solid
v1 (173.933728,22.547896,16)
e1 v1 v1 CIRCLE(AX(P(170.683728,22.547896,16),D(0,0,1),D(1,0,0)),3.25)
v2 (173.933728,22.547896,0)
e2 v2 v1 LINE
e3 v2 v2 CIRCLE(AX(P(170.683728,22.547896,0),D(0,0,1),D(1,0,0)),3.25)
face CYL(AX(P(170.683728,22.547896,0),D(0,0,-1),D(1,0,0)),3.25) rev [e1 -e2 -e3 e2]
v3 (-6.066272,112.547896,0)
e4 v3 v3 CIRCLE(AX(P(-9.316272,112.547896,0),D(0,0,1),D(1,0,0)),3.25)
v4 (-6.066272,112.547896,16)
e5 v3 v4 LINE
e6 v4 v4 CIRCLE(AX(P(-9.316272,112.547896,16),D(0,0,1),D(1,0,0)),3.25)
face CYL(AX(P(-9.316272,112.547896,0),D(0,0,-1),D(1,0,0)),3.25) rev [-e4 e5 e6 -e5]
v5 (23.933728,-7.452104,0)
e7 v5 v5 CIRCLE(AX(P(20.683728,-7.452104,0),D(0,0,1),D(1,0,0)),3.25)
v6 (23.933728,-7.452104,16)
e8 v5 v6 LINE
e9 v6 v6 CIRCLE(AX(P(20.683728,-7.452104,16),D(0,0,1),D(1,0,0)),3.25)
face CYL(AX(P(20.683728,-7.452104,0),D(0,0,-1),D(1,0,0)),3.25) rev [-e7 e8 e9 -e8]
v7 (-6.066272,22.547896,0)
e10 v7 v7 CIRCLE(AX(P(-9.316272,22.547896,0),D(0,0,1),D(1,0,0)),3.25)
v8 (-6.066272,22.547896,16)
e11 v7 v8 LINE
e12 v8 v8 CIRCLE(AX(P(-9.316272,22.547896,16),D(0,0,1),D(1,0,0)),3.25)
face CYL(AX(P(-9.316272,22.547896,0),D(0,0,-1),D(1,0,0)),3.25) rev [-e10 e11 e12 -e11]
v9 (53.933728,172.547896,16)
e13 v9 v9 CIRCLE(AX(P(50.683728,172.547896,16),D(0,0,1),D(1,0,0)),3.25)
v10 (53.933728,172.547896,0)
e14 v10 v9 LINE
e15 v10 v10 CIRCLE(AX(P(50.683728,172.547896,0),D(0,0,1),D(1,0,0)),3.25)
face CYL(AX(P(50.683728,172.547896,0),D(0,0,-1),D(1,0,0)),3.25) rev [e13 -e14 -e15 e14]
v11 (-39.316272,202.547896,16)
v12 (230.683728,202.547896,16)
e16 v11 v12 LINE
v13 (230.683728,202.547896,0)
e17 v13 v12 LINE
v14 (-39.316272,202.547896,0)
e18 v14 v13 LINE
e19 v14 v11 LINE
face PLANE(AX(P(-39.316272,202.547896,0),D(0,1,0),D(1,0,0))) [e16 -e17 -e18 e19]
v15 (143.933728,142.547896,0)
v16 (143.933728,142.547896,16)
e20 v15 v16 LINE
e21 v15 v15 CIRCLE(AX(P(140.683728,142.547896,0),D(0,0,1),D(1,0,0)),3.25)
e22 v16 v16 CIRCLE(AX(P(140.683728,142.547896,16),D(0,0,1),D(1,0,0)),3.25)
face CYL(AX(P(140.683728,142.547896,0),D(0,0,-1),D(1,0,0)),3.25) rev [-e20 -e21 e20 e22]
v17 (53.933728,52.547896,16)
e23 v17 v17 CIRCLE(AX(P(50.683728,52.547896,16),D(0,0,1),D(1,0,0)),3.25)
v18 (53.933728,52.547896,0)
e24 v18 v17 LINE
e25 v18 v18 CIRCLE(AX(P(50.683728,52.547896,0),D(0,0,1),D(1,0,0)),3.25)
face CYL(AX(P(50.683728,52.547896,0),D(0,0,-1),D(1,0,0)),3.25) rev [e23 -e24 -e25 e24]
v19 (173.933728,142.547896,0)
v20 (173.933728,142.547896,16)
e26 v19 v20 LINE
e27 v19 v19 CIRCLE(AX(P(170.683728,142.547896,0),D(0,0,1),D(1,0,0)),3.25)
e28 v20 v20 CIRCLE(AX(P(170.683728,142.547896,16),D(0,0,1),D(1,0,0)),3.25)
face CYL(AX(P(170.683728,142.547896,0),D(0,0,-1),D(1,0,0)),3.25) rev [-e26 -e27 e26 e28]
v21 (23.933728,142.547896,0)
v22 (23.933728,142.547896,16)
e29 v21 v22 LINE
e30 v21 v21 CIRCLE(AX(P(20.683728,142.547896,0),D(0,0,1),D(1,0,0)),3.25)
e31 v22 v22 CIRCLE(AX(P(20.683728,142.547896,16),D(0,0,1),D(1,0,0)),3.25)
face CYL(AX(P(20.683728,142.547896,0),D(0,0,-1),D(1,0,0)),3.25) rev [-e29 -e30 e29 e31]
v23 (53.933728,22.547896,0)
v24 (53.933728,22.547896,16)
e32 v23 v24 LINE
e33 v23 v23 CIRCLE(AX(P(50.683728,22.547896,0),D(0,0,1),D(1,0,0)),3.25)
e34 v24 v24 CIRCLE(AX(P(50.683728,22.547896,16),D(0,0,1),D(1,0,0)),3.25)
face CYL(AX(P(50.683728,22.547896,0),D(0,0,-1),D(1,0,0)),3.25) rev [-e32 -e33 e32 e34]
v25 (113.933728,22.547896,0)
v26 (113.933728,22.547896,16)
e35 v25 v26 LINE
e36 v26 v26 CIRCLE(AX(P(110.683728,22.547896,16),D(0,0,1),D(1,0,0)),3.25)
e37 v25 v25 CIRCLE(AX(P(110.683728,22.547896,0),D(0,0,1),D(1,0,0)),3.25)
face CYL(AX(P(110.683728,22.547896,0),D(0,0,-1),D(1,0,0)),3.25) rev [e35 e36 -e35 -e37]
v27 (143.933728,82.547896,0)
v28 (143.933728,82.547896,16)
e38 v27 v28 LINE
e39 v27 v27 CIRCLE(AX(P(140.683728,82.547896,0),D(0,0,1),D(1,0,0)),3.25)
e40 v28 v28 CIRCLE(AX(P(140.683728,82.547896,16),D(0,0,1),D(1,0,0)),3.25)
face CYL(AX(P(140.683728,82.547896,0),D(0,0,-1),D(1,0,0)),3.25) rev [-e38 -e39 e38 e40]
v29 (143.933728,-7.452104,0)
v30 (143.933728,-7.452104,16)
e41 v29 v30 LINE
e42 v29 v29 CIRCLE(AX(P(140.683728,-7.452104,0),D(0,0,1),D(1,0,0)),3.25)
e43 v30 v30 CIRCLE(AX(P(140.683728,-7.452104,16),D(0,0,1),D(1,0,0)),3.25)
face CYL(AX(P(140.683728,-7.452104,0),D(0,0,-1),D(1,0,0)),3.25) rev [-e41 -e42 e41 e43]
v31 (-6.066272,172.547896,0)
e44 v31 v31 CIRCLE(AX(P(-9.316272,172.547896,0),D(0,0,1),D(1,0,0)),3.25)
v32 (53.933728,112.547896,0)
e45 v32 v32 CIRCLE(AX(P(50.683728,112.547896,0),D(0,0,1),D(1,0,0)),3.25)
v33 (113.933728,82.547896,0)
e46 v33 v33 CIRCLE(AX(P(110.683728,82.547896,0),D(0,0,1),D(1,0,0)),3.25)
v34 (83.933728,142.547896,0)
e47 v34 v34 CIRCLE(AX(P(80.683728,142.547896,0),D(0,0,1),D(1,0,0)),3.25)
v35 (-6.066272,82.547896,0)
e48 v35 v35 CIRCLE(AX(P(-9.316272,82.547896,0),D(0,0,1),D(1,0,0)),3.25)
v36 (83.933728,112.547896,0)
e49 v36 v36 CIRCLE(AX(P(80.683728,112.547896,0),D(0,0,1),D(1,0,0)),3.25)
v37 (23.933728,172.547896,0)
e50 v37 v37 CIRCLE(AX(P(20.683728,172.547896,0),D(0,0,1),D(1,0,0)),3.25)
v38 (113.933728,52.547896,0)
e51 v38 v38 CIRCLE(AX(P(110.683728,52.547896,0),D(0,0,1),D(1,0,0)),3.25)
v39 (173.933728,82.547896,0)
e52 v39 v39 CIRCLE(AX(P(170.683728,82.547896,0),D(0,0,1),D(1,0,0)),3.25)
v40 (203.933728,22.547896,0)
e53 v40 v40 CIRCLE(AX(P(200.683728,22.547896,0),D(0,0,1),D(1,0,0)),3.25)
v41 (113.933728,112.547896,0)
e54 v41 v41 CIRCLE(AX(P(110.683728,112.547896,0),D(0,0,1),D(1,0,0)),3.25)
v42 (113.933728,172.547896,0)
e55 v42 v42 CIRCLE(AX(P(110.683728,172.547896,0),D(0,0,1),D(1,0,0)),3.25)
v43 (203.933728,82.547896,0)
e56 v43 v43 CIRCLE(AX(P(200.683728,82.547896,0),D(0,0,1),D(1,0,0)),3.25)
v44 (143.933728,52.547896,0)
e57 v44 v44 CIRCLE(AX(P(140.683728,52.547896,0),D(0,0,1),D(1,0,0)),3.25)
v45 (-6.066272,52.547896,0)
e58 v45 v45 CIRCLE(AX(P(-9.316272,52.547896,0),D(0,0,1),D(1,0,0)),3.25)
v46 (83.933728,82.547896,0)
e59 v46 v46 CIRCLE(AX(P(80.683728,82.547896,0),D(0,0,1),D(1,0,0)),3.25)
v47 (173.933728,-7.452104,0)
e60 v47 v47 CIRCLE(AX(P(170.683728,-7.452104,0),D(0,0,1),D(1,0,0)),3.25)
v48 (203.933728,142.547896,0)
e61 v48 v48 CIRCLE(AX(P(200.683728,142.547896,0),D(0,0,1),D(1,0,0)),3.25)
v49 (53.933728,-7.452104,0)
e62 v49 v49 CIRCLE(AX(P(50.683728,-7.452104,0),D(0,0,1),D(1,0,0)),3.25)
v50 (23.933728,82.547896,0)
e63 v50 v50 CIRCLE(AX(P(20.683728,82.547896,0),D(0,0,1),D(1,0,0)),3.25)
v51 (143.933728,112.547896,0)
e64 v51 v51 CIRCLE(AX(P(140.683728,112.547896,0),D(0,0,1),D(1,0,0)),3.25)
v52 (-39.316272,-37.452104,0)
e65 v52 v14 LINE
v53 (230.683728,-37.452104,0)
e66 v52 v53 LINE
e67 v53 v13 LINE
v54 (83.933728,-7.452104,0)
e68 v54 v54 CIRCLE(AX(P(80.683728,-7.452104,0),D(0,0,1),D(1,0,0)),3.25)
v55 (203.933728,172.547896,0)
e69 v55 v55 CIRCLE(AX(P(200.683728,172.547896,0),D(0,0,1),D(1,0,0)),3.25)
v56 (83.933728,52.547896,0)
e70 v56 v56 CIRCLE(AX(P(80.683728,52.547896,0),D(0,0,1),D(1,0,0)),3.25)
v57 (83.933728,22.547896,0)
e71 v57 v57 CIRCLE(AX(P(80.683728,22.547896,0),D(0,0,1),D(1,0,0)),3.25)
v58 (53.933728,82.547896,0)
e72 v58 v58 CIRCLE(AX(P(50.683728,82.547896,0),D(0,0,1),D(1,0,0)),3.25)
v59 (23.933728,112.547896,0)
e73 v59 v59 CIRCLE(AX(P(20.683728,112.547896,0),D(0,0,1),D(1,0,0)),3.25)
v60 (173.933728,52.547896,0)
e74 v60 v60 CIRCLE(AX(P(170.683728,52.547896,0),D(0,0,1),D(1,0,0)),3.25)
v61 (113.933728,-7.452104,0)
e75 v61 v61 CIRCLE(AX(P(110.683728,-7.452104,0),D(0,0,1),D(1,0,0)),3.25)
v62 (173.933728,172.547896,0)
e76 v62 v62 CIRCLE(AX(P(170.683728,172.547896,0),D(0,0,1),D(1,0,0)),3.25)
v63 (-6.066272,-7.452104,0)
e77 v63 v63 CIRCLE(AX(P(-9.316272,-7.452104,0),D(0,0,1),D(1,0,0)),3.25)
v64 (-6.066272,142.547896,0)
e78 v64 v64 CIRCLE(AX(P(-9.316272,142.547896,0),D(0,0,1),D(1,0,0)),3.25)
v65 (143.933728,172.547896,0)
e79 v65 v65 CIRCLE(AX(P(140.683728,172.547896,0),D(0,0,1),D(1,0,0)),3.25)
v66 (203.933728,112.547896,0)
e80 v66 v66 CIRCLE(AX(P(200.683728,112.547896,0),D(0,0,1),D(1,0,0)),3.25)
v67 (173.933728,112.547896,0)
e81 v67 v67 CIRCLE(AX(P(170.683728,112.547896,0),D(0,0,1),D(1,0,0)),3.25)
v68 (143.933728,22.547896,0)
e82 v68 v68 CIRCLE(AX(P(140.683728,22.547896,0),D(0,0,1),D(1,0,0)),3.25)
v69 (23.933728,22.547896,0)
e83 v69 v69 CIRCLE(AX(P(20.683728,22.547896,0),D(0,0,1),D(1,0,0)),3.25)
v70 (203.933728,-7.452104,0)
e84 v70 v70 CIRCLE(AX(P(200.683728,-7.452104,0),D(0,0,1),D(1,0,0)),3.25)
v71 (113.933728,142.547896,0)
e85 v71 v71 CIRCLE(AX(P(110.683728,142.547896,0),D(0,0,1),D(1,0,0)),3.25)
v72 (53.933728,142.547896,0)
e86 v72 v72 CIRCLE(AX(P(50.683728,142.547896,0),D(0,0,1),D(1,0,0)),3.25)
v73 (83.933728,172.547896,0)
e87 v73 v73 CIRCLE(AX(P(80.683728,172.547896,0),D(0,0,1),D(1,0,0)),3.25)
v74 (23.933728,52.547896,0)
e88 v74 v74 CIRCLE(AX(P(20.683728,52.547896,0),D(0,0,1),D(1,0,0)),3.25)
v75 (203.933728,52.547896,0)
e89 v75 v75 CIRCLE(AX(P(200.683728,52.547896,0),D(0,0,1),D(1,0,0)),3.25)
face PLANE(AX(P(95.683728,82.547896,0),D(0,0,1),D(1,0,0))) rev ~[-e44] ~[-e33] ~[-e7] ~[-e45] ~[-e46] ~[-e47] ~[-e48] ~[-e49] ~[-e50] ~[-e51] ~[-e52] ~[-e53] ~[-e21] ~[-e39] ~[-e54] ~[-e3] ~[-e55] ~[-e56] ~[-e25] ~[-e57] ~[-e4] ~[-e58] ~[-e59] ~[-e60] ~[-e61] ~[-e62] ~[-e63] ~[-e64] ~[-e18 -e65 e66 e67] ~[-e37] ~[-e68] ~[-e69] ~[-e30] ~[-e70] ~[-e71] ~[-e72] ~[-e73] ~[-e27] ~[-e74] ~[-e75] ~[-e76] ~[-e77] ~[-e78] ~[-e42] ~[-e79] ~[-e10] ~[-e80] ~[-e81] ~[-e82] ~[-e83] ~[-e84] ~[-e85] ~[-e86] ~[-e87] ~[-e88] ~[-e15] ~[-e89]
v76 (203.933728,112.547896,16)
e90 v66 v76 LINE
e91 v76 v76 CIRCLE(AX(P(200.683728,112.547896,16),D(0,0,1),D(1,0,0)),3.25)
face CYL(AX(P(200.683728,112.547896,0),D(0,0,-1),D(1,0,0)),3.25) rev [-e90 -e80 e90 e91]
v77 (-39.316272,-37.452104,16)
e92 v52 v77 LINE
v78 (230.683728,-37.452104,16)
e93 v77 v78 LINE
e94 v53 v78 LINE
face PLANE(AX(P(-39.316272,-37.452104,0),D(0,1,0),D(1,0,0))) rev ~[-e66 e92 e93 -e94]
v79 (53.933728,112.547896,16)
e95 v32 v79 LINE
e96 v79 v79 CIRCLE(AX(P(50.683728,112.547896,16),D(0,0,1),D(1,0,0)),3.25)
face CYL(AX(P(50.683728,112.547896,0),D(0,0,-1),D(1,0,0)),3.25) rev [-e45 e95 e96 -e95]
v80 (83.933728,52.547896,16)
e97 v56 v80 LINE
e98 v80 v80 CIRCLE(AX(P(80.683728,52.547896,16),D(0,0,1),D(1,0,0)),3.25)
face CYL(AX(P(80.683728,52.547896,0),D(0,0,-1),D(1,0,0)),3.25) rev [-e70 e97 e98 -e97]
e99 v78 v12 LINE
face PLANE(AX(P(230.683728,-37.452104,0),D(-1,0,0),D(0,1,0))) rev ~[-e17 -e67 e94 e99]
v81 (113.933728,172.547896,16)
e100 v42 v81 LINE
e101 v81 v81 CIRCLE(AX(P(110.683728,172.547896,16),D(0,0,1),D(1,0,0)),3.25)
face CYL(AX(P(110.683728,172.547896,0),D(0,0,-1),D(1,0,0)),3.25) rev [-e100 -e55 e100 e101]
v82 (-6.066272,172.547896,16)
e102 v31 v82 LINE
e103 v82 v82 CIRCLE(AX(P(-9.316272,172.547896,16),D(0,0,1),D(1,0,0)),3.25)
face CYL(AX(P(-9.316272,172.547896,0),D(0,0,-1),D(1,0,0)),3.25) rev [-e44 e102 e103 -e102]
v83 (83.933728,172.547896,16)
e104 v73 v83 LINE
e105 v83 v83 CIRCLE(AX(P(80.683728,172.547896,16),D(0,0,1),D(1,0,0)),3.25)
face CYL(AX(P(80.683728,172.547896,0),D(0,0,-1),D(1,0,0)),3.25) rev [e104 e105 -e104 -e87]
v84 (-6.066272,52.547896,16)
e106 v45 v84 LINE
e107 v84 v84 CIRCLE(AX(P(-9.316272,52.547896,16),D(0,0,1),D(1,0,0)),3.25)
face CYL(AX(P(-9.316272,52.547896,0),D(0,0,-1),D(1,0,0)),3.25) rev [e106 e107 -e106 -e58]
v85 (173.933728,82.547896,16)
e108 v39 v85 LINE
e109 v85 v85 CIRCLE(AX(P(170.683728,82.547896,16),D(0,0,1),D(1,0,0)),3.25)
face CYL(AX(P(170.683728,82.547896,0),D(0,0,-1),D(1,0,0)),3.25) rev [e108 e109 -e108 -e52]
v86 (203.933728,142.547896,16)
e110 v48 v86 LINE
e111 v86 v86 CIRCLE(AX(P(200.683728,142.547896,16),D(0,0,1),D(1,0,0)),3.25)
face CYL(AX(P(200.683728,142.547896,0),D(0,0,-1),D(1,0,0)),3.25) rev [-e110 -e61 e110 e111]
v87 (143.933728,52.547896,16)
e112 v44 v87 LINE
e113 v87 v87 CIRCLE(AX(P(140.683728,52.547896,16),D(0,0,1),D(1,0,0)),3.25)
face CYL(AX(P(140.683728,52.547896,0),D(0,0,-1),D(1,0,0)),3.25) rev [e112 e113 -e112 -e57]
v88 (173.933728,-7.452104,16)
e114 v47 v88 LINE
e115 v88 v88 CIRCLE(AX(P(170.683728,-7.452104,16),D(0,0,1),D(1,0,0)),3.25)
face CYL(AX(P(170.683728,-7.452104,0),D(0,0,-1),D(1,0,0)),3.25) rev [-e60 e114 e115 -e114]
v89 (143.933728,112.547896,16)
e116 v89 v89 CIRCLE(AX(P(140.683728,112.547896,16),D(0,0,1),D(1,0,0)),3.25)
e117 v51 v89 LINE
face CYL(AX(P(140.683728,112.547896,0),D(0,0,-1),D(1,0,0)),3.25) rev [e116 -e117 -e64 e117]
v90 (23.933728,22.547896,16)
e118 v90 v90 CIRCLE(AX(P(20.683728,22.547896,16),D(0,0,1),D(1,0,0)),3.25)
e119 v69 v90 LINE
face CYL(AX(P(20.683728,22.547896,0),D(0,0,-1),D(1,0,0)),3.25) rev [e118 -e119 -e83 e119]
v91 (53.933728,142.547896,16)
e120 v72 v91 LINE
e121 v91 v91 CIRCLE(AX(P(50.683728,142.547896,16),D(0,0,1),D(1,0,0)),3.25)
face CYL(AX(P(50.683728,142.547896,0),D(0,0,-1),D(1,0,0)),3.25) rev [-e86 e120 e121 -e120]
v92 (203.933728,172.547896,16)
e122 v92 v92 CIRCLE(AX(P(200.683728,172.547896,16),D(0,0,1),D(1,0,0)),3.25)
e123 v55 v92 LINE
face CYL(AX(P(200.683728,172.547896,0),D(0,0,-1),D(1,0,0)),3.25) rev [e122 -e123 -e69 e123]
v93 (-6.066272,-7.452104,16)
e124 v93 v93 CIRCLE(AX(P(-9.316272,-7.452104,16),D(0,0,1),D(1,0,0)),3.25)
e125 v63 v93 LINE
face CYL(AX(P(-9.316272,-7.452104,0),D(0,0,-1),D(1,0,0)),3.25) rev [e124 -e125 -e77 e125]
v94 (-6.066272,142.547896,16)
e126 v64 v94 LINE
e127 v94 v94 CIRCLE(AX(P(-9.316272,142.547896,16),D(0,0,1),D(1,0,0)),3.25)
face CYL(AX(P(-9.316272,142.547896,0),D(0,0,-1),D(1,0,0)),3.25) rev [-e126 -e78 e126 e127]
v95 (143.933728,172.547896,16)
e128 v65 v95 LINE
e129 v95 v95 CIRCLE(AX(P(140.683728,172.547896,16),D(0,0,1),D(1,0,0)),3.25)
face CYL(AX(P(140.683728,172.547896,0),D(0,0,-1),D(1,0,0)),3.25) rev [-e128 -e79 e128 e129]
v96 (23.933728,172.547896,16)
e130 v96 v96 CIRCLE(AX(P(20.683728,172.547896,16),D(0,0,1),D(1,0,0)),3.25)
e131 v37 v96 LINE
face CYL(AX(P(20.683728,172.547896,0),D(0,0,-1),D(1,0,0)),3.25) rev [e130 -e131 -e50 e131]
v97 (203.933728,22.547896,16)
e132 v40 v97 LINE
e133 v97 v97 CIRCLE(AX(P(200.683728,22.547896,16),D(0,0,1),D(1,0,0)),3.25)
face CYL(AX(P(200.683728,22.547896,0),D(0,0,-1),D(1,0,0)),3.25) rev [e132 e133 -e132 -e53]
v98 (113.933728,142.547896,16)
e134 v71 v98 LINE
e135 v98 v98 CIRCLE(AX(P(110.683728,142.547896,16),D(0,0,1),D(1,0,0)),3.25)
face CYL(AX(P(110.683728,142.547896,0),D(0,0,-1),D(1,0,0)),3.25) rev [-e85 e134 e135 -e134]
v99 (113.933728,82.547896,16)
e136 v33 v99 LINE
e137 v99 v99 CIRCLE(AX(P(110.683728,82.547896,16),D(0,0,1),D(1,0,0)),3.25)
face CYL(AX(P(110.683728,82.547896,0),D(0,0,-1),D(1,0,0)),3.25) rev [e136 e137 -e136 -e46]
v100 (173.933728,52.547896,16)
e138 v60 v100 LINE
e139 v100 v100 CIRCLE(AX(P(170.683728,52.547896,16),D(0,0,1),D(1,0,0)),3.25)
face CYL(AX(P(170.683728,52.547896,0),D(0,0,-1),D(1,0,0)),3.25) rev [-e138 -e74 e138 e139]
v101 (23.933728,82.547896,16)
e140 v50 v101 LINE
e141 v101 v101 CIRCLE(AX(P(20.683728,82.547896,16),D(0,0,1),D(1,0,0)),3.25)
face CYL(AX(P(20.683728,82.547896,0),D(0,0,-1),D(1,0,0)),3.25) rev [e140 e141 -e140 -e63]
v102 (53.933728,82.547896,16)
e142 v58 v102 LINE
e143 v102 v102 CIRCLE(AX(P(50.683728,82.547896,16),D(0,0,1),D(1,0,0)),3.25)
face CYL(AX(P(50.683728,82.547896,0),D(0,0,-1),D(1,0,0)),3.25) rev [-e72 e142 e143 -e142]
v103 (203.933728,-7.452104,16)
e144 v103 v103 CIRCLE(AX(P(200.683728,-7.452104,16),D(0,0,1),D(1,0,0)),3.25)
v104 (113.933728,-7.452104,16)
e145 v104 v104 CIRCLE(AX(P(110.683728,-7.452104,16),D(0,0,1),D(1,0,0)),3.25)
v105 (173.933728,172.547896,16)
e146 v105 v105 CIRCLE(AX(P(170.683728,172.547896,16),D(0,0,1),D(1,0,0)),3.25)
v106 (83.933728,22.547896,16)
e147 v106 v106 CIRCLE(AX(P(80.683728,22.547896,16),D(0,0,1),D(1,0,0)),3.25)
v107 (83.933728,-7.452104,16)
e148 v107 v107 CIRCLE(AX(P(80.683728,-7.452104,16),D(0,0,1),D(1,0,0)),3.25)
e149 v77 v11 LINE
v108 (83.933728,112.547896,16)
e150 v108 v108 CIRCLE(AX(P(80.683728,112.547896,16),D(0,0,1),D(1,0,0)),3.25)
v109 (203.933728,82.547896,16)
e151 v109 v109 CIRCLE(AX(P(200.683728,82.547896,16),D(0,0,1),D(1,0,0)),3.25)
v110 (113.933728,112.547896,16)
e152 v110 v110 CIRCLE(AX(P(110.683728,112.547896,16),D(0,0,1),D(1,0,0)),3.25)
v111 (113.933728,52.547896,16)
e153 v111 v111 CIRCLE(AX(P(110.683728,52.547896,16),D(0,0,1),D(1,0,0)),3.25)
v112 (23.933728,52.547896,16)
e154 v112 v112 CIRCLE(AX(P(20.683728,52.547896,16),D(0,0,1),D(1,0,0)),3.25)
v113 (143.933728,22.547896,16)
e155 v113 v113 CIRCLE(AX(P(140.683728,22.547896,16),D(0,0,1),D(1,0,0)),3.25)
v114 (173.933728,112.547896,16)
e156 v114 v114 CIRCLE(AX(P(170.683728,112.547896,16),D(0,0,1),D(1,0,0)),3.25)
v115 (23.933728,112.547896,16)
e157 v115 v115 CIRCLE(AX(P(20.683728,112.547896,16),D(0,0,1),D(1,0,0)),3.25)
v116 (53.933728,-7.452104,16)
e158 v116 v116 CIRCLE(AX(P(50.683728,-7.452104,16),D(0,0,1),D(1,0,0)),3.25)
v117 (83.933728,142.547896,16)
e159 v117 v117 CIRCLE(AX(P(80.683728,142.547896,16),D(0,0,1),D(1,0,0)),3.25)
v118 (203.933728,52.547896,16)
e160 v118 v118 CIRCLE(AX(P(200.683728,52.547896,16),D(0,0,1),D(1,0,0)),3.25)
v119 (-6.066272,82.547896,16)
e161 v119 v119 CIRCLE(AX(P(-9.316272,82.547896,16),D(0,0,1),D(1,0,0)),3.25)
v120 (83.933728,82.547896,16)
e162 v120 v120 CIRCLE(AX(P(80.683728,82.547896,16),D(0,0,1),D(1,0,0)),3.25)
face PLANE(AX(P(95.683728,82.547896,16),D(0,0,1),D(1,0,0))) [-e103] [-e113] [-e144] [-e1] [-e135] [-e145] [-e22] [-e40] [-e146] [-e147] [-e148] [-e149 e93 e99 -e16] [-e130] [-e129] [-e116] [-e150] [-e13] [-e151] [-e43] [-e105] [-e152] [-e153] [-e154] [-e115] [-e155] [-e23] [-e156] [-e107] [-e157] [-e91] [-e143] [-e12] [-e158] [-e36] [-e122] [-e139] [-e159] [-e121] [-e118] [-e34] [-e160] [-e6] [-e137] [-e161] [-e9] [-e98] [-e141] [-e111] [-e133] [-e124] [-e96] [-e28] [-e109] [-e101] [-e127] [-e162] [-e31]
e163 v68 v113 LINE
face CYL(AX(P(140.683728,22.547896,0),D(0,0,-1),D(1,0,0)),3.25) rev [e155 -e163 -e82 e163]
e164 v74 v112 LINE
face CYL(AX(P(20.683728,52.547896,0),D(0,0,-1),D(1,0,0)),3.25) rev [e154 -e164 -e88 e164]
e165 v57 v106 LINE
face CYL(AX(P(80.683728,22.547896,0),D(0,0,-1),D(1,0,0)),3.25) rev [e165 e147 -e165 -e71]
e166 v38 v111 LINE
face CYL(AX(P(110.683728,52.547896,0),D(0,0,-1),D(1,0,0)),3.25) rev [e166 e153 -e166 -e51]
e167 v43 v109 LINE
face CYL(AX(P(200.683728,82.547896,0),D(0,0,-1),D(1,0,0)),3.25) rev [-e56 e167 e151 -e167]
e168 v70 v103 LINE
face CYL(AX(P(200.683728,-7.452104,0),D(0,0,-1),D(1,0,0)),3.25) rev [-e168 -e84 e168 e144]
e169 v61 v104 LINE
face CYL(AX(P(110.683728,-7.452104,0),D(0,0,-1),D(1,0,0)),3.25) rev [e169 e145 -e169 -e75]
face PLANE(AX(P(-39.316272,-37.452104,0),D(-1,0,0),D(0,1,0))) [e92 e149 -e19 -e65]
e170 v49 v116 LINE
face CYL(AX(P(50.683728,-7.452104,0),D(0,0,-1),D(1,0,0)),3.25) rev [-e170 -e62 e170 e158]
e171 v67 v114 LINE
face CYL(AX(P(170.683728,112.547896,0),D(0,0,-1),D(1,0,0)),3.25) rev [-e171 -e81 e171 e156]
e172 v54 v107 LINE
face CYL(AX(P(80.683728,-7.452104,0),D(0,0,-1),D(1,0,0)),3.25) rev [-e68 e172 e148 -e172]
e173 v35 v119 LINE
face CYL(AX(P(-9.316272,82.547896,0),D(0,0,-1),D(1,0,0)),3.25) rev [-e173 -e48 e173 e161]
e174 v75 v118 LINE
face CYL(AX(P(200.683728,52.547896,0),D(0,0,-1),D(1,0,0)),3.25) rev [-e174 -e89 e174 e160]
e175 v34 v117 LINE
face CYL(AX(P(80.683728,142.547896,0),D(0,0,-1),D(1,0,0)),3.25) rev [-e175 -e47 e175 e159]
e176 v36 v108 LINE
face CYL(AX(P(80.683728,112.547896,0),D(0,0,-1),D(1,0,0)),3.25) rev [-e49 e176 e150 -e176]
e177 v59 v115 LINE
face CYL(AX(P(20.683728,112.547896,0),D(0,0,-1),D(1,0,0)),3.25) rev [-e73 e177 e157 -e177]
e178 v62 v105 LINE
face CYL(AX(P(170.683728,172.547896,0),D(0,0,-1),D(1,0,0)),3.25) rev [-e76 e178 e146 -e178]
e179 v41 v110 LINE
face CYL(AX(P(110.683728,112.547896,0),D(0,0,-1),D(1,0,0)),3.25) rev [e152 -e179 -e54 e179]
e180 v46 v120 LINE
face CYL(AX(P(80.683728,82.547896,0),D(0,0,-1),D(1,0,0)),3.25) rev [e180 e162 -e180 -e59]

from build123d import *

# Parameters (mm, degrees)
F0_W     = 270
F0_H     = 240
F0_R     = 3.25
F1_DEPTH = 16


with BuildPart() as f1:
    # F0 (on Top) → F1 (new body)
    with BuildSketch(Plane.XY):
        with Locations((95.683728, 82.547896)):
            Rectangle(F0_W, F0_H)
        with Locations((-9.316272, -7.452104)):
            Circle(F0_R, mode=Mode.SUBTRACT)
        with Locations((20.683728, -7.452104)):
            Circle(F0_R, mode=Mode.SUBTRACT)
        with Locations((50.683728, -7.452104)):
            Circle(F0_R, mode=Mode.SUBTRACT)
        with Locations((80.683728, -7.452104)):
            Circle(F0_R, mode=Mode.SUBTRACT)
        with Locations((-9.316272, 22.547896)):
            Circle(F0_R, mode=Mode.SUBTRACT)
        with Locations((20.683728, 22.547896)):
            Circle(F0_R, mode=Mode.SUBTRACT)
        with Locations((-9.316272, 52.547896)):
            Circle(F0_R, mode=Mode.SUBTRACT)
        with Locations((20.683728, 52.547896)):
            Circle(F0_R, mode=Mode.SUBTRACT)
        with Locations((50.683728, 22.547896)):
            Circle(F0_R, mode=Mode.SUBTRACT)
        with Locations((80.683728, 22.547896)):
            Circle(F0_R, mode=Mode.SUBTRACT)
        with Locations((50.683728, 52.547896)):
            Circle(F0_R, mode=Mode.SUBTRACT)
        with Locations((80.683728, 52.547896)):
            Circle(F0_R, mode=Mode.SUBTRACT)
        with Locations((110.683728, -7.452104)):
            Circle(F0_R, mode=Mode.SUBTRACT)
        with Locations((140.683728, -7.452104)):
            Circle(F0_R, mode=Mode.SUBTRACT)
        with Locations((170.683728, -7.452104)):
            Circle(F0_R, mode=Mode.SUBTRACT)
        with Locations((200.683728, -7.452104)):
            Circle(F0_R, mode=Mode.SUBTRACT)
        with Locations((110.683728, 22.547896)):
            Circle(F0_R, mode=Mode.SUBTRACT)
        with Locations((140.683728, 22.547896)):
            Circle(F0_R, mode=Mode.SUBTRACT)
        with Locations((110.683728, 52.547896)):
            Circle(F0_R, mode=Mode.SUBTRACT)
        with Locations((140.683728, 52.547896)):
            Circle(F0_R, mode=Mode.SUBTRACT)
        with Locations((170.683728, 22.547896)):
            Circle(F0_R, mode=Mode.SUBTRACT)
        with Locations((200.683728, 22.547896)):
            Circle(F0_R, mode=Mode.SUBTRACT)
        with Locations((170.683728, 52.547896)):
            Circle(F0_R, mode=Mode.SUBTRACT)
        with Locations((200.683728, 52.547896)):
            Circle(F0_R, mode=Mode.SUBTRACT)
        with Locations((-9.316272, 82.547896)):
            Circle(F0_R, mode=Mode.SUBTRACT)
        with Locations((20.683728, 82.547896)):
            Circle(F0_R, mode=Mode.SUBTRACT)
        with Locations((-9.316272, 112.547896)):
            Circle(F0_R, mode=Mode.SUBTRACT)
        with Locations((20.683728, 112.547896)):
            Circle(F0_R, mode=Mode.SUBTRACT)
        with Locations((50.683728, 82.547896)):
            Circle(F0_R, mode=Mode.SUBTRACT)
        with Locations((80.683728, 82.547896)):
            Circle(F0_R, mode=Mode.SUBTRACT)
        with Locations((50.683728, 112.547896)):
            Circle(F0_R, mode=Mode.SUBTRACT)
        with Locations((80.683728, 112.547896)):
            Circle(F0_R, mode=Mode.SUBTRACT)
        with Locations((-9.316272, 142.547896)):
            Circle(F0_R, mode=Mode.SUBTRACT)
        with Locations((20.683728, 142.547896)):
            Circle(F0_R, mode=Mode.SUBTRACT)
        with Locations((-9.316272, 172.547896)):
            Circle(F0_R, mode=Mode.SUBTRACT)
        with Locations((20.683728, 172.547896)):
            Circle(F0_R, mode=Mode.SUBTRACT)
        with Locations((50.683728, 142.547896)):
            Circle(F0_R, mode=Mode.SUBTRACT)
        with Locations((80.683728, 142.547896)):
            Circle(F0_R, mode=Mode.SUBTRACT)
        with Locations((50.683728, 172.547896)):
            Circle(F0_R, mode=Mode.SUBTRACT)
        with Locations((80.683728, 172.547896)):
            Circle(F0_R, mode=Mode.SUBTRACT)
        with Locations((110.683728, 82.547896)):
            Circle(F0_R, mode=Mode.SUBTRACT)
        with Locations((140.683728, 82.547896)):
            Circle(F0_R, mode=Mode.SUBTRACT)
        with Locations((110.683728, 112.547896)):
            Circle(F0_R, mode=Mode.SUBTRACT)
        with Locations((140.683728, 112.547896)):
            Circle(F0_R, mode=Mode.SUBTRACT)
        with Locations((170.683728, 82.547896)):
            Circle(F0_R, mode=Mode.SUBTRACT)
        with Locations((200.683728, 82.547896)):
            Circle(F0_R, mode=Mode.SUBTRACT)
        with Locations((170.683728, 112.547896)):
            Circle(F0_R, mode=Mode.SUBTRACT)
        with Locations((200.683728, 112.547896)):
            Circle(F0_R, mode=Mode.SUBTRACT)
        with Locations((110.683728, 142.547896)):
            Circle(F0_R, mode=Mode.SUBTRACT)
        with Locations((140.683728, 142.547896)):
            Circle(F0_R, mode=Mode.SUBTRACT)
        with Locations((110.683728, 172.547896)):
            Circle(F0_R, mode=Mode.SUBTRACT)
        with Locations((140.683728, 172.547896)):
            Circle(F0_R, mode=Mode.SUBTRACT)
        with Locations((170.683728, 142.547896)):
            Circle(F0_R, mode=Mode.SUBTRACT)
        with Locations((200.683728, 142.547896)):
            Circle(F0_R, mode=Mode.SUBTRACT)
        with Locations((170.683728, 172.547896)):
            Circle(F0_R, mode=Mode.SUBTRACT)
        with Locations((200.683728, 172.547896)):
            Circle(F0_R, mode=Mode.SUBTRACT)
    extrude(amount=F1_DEPTH)


solid = f1.part
